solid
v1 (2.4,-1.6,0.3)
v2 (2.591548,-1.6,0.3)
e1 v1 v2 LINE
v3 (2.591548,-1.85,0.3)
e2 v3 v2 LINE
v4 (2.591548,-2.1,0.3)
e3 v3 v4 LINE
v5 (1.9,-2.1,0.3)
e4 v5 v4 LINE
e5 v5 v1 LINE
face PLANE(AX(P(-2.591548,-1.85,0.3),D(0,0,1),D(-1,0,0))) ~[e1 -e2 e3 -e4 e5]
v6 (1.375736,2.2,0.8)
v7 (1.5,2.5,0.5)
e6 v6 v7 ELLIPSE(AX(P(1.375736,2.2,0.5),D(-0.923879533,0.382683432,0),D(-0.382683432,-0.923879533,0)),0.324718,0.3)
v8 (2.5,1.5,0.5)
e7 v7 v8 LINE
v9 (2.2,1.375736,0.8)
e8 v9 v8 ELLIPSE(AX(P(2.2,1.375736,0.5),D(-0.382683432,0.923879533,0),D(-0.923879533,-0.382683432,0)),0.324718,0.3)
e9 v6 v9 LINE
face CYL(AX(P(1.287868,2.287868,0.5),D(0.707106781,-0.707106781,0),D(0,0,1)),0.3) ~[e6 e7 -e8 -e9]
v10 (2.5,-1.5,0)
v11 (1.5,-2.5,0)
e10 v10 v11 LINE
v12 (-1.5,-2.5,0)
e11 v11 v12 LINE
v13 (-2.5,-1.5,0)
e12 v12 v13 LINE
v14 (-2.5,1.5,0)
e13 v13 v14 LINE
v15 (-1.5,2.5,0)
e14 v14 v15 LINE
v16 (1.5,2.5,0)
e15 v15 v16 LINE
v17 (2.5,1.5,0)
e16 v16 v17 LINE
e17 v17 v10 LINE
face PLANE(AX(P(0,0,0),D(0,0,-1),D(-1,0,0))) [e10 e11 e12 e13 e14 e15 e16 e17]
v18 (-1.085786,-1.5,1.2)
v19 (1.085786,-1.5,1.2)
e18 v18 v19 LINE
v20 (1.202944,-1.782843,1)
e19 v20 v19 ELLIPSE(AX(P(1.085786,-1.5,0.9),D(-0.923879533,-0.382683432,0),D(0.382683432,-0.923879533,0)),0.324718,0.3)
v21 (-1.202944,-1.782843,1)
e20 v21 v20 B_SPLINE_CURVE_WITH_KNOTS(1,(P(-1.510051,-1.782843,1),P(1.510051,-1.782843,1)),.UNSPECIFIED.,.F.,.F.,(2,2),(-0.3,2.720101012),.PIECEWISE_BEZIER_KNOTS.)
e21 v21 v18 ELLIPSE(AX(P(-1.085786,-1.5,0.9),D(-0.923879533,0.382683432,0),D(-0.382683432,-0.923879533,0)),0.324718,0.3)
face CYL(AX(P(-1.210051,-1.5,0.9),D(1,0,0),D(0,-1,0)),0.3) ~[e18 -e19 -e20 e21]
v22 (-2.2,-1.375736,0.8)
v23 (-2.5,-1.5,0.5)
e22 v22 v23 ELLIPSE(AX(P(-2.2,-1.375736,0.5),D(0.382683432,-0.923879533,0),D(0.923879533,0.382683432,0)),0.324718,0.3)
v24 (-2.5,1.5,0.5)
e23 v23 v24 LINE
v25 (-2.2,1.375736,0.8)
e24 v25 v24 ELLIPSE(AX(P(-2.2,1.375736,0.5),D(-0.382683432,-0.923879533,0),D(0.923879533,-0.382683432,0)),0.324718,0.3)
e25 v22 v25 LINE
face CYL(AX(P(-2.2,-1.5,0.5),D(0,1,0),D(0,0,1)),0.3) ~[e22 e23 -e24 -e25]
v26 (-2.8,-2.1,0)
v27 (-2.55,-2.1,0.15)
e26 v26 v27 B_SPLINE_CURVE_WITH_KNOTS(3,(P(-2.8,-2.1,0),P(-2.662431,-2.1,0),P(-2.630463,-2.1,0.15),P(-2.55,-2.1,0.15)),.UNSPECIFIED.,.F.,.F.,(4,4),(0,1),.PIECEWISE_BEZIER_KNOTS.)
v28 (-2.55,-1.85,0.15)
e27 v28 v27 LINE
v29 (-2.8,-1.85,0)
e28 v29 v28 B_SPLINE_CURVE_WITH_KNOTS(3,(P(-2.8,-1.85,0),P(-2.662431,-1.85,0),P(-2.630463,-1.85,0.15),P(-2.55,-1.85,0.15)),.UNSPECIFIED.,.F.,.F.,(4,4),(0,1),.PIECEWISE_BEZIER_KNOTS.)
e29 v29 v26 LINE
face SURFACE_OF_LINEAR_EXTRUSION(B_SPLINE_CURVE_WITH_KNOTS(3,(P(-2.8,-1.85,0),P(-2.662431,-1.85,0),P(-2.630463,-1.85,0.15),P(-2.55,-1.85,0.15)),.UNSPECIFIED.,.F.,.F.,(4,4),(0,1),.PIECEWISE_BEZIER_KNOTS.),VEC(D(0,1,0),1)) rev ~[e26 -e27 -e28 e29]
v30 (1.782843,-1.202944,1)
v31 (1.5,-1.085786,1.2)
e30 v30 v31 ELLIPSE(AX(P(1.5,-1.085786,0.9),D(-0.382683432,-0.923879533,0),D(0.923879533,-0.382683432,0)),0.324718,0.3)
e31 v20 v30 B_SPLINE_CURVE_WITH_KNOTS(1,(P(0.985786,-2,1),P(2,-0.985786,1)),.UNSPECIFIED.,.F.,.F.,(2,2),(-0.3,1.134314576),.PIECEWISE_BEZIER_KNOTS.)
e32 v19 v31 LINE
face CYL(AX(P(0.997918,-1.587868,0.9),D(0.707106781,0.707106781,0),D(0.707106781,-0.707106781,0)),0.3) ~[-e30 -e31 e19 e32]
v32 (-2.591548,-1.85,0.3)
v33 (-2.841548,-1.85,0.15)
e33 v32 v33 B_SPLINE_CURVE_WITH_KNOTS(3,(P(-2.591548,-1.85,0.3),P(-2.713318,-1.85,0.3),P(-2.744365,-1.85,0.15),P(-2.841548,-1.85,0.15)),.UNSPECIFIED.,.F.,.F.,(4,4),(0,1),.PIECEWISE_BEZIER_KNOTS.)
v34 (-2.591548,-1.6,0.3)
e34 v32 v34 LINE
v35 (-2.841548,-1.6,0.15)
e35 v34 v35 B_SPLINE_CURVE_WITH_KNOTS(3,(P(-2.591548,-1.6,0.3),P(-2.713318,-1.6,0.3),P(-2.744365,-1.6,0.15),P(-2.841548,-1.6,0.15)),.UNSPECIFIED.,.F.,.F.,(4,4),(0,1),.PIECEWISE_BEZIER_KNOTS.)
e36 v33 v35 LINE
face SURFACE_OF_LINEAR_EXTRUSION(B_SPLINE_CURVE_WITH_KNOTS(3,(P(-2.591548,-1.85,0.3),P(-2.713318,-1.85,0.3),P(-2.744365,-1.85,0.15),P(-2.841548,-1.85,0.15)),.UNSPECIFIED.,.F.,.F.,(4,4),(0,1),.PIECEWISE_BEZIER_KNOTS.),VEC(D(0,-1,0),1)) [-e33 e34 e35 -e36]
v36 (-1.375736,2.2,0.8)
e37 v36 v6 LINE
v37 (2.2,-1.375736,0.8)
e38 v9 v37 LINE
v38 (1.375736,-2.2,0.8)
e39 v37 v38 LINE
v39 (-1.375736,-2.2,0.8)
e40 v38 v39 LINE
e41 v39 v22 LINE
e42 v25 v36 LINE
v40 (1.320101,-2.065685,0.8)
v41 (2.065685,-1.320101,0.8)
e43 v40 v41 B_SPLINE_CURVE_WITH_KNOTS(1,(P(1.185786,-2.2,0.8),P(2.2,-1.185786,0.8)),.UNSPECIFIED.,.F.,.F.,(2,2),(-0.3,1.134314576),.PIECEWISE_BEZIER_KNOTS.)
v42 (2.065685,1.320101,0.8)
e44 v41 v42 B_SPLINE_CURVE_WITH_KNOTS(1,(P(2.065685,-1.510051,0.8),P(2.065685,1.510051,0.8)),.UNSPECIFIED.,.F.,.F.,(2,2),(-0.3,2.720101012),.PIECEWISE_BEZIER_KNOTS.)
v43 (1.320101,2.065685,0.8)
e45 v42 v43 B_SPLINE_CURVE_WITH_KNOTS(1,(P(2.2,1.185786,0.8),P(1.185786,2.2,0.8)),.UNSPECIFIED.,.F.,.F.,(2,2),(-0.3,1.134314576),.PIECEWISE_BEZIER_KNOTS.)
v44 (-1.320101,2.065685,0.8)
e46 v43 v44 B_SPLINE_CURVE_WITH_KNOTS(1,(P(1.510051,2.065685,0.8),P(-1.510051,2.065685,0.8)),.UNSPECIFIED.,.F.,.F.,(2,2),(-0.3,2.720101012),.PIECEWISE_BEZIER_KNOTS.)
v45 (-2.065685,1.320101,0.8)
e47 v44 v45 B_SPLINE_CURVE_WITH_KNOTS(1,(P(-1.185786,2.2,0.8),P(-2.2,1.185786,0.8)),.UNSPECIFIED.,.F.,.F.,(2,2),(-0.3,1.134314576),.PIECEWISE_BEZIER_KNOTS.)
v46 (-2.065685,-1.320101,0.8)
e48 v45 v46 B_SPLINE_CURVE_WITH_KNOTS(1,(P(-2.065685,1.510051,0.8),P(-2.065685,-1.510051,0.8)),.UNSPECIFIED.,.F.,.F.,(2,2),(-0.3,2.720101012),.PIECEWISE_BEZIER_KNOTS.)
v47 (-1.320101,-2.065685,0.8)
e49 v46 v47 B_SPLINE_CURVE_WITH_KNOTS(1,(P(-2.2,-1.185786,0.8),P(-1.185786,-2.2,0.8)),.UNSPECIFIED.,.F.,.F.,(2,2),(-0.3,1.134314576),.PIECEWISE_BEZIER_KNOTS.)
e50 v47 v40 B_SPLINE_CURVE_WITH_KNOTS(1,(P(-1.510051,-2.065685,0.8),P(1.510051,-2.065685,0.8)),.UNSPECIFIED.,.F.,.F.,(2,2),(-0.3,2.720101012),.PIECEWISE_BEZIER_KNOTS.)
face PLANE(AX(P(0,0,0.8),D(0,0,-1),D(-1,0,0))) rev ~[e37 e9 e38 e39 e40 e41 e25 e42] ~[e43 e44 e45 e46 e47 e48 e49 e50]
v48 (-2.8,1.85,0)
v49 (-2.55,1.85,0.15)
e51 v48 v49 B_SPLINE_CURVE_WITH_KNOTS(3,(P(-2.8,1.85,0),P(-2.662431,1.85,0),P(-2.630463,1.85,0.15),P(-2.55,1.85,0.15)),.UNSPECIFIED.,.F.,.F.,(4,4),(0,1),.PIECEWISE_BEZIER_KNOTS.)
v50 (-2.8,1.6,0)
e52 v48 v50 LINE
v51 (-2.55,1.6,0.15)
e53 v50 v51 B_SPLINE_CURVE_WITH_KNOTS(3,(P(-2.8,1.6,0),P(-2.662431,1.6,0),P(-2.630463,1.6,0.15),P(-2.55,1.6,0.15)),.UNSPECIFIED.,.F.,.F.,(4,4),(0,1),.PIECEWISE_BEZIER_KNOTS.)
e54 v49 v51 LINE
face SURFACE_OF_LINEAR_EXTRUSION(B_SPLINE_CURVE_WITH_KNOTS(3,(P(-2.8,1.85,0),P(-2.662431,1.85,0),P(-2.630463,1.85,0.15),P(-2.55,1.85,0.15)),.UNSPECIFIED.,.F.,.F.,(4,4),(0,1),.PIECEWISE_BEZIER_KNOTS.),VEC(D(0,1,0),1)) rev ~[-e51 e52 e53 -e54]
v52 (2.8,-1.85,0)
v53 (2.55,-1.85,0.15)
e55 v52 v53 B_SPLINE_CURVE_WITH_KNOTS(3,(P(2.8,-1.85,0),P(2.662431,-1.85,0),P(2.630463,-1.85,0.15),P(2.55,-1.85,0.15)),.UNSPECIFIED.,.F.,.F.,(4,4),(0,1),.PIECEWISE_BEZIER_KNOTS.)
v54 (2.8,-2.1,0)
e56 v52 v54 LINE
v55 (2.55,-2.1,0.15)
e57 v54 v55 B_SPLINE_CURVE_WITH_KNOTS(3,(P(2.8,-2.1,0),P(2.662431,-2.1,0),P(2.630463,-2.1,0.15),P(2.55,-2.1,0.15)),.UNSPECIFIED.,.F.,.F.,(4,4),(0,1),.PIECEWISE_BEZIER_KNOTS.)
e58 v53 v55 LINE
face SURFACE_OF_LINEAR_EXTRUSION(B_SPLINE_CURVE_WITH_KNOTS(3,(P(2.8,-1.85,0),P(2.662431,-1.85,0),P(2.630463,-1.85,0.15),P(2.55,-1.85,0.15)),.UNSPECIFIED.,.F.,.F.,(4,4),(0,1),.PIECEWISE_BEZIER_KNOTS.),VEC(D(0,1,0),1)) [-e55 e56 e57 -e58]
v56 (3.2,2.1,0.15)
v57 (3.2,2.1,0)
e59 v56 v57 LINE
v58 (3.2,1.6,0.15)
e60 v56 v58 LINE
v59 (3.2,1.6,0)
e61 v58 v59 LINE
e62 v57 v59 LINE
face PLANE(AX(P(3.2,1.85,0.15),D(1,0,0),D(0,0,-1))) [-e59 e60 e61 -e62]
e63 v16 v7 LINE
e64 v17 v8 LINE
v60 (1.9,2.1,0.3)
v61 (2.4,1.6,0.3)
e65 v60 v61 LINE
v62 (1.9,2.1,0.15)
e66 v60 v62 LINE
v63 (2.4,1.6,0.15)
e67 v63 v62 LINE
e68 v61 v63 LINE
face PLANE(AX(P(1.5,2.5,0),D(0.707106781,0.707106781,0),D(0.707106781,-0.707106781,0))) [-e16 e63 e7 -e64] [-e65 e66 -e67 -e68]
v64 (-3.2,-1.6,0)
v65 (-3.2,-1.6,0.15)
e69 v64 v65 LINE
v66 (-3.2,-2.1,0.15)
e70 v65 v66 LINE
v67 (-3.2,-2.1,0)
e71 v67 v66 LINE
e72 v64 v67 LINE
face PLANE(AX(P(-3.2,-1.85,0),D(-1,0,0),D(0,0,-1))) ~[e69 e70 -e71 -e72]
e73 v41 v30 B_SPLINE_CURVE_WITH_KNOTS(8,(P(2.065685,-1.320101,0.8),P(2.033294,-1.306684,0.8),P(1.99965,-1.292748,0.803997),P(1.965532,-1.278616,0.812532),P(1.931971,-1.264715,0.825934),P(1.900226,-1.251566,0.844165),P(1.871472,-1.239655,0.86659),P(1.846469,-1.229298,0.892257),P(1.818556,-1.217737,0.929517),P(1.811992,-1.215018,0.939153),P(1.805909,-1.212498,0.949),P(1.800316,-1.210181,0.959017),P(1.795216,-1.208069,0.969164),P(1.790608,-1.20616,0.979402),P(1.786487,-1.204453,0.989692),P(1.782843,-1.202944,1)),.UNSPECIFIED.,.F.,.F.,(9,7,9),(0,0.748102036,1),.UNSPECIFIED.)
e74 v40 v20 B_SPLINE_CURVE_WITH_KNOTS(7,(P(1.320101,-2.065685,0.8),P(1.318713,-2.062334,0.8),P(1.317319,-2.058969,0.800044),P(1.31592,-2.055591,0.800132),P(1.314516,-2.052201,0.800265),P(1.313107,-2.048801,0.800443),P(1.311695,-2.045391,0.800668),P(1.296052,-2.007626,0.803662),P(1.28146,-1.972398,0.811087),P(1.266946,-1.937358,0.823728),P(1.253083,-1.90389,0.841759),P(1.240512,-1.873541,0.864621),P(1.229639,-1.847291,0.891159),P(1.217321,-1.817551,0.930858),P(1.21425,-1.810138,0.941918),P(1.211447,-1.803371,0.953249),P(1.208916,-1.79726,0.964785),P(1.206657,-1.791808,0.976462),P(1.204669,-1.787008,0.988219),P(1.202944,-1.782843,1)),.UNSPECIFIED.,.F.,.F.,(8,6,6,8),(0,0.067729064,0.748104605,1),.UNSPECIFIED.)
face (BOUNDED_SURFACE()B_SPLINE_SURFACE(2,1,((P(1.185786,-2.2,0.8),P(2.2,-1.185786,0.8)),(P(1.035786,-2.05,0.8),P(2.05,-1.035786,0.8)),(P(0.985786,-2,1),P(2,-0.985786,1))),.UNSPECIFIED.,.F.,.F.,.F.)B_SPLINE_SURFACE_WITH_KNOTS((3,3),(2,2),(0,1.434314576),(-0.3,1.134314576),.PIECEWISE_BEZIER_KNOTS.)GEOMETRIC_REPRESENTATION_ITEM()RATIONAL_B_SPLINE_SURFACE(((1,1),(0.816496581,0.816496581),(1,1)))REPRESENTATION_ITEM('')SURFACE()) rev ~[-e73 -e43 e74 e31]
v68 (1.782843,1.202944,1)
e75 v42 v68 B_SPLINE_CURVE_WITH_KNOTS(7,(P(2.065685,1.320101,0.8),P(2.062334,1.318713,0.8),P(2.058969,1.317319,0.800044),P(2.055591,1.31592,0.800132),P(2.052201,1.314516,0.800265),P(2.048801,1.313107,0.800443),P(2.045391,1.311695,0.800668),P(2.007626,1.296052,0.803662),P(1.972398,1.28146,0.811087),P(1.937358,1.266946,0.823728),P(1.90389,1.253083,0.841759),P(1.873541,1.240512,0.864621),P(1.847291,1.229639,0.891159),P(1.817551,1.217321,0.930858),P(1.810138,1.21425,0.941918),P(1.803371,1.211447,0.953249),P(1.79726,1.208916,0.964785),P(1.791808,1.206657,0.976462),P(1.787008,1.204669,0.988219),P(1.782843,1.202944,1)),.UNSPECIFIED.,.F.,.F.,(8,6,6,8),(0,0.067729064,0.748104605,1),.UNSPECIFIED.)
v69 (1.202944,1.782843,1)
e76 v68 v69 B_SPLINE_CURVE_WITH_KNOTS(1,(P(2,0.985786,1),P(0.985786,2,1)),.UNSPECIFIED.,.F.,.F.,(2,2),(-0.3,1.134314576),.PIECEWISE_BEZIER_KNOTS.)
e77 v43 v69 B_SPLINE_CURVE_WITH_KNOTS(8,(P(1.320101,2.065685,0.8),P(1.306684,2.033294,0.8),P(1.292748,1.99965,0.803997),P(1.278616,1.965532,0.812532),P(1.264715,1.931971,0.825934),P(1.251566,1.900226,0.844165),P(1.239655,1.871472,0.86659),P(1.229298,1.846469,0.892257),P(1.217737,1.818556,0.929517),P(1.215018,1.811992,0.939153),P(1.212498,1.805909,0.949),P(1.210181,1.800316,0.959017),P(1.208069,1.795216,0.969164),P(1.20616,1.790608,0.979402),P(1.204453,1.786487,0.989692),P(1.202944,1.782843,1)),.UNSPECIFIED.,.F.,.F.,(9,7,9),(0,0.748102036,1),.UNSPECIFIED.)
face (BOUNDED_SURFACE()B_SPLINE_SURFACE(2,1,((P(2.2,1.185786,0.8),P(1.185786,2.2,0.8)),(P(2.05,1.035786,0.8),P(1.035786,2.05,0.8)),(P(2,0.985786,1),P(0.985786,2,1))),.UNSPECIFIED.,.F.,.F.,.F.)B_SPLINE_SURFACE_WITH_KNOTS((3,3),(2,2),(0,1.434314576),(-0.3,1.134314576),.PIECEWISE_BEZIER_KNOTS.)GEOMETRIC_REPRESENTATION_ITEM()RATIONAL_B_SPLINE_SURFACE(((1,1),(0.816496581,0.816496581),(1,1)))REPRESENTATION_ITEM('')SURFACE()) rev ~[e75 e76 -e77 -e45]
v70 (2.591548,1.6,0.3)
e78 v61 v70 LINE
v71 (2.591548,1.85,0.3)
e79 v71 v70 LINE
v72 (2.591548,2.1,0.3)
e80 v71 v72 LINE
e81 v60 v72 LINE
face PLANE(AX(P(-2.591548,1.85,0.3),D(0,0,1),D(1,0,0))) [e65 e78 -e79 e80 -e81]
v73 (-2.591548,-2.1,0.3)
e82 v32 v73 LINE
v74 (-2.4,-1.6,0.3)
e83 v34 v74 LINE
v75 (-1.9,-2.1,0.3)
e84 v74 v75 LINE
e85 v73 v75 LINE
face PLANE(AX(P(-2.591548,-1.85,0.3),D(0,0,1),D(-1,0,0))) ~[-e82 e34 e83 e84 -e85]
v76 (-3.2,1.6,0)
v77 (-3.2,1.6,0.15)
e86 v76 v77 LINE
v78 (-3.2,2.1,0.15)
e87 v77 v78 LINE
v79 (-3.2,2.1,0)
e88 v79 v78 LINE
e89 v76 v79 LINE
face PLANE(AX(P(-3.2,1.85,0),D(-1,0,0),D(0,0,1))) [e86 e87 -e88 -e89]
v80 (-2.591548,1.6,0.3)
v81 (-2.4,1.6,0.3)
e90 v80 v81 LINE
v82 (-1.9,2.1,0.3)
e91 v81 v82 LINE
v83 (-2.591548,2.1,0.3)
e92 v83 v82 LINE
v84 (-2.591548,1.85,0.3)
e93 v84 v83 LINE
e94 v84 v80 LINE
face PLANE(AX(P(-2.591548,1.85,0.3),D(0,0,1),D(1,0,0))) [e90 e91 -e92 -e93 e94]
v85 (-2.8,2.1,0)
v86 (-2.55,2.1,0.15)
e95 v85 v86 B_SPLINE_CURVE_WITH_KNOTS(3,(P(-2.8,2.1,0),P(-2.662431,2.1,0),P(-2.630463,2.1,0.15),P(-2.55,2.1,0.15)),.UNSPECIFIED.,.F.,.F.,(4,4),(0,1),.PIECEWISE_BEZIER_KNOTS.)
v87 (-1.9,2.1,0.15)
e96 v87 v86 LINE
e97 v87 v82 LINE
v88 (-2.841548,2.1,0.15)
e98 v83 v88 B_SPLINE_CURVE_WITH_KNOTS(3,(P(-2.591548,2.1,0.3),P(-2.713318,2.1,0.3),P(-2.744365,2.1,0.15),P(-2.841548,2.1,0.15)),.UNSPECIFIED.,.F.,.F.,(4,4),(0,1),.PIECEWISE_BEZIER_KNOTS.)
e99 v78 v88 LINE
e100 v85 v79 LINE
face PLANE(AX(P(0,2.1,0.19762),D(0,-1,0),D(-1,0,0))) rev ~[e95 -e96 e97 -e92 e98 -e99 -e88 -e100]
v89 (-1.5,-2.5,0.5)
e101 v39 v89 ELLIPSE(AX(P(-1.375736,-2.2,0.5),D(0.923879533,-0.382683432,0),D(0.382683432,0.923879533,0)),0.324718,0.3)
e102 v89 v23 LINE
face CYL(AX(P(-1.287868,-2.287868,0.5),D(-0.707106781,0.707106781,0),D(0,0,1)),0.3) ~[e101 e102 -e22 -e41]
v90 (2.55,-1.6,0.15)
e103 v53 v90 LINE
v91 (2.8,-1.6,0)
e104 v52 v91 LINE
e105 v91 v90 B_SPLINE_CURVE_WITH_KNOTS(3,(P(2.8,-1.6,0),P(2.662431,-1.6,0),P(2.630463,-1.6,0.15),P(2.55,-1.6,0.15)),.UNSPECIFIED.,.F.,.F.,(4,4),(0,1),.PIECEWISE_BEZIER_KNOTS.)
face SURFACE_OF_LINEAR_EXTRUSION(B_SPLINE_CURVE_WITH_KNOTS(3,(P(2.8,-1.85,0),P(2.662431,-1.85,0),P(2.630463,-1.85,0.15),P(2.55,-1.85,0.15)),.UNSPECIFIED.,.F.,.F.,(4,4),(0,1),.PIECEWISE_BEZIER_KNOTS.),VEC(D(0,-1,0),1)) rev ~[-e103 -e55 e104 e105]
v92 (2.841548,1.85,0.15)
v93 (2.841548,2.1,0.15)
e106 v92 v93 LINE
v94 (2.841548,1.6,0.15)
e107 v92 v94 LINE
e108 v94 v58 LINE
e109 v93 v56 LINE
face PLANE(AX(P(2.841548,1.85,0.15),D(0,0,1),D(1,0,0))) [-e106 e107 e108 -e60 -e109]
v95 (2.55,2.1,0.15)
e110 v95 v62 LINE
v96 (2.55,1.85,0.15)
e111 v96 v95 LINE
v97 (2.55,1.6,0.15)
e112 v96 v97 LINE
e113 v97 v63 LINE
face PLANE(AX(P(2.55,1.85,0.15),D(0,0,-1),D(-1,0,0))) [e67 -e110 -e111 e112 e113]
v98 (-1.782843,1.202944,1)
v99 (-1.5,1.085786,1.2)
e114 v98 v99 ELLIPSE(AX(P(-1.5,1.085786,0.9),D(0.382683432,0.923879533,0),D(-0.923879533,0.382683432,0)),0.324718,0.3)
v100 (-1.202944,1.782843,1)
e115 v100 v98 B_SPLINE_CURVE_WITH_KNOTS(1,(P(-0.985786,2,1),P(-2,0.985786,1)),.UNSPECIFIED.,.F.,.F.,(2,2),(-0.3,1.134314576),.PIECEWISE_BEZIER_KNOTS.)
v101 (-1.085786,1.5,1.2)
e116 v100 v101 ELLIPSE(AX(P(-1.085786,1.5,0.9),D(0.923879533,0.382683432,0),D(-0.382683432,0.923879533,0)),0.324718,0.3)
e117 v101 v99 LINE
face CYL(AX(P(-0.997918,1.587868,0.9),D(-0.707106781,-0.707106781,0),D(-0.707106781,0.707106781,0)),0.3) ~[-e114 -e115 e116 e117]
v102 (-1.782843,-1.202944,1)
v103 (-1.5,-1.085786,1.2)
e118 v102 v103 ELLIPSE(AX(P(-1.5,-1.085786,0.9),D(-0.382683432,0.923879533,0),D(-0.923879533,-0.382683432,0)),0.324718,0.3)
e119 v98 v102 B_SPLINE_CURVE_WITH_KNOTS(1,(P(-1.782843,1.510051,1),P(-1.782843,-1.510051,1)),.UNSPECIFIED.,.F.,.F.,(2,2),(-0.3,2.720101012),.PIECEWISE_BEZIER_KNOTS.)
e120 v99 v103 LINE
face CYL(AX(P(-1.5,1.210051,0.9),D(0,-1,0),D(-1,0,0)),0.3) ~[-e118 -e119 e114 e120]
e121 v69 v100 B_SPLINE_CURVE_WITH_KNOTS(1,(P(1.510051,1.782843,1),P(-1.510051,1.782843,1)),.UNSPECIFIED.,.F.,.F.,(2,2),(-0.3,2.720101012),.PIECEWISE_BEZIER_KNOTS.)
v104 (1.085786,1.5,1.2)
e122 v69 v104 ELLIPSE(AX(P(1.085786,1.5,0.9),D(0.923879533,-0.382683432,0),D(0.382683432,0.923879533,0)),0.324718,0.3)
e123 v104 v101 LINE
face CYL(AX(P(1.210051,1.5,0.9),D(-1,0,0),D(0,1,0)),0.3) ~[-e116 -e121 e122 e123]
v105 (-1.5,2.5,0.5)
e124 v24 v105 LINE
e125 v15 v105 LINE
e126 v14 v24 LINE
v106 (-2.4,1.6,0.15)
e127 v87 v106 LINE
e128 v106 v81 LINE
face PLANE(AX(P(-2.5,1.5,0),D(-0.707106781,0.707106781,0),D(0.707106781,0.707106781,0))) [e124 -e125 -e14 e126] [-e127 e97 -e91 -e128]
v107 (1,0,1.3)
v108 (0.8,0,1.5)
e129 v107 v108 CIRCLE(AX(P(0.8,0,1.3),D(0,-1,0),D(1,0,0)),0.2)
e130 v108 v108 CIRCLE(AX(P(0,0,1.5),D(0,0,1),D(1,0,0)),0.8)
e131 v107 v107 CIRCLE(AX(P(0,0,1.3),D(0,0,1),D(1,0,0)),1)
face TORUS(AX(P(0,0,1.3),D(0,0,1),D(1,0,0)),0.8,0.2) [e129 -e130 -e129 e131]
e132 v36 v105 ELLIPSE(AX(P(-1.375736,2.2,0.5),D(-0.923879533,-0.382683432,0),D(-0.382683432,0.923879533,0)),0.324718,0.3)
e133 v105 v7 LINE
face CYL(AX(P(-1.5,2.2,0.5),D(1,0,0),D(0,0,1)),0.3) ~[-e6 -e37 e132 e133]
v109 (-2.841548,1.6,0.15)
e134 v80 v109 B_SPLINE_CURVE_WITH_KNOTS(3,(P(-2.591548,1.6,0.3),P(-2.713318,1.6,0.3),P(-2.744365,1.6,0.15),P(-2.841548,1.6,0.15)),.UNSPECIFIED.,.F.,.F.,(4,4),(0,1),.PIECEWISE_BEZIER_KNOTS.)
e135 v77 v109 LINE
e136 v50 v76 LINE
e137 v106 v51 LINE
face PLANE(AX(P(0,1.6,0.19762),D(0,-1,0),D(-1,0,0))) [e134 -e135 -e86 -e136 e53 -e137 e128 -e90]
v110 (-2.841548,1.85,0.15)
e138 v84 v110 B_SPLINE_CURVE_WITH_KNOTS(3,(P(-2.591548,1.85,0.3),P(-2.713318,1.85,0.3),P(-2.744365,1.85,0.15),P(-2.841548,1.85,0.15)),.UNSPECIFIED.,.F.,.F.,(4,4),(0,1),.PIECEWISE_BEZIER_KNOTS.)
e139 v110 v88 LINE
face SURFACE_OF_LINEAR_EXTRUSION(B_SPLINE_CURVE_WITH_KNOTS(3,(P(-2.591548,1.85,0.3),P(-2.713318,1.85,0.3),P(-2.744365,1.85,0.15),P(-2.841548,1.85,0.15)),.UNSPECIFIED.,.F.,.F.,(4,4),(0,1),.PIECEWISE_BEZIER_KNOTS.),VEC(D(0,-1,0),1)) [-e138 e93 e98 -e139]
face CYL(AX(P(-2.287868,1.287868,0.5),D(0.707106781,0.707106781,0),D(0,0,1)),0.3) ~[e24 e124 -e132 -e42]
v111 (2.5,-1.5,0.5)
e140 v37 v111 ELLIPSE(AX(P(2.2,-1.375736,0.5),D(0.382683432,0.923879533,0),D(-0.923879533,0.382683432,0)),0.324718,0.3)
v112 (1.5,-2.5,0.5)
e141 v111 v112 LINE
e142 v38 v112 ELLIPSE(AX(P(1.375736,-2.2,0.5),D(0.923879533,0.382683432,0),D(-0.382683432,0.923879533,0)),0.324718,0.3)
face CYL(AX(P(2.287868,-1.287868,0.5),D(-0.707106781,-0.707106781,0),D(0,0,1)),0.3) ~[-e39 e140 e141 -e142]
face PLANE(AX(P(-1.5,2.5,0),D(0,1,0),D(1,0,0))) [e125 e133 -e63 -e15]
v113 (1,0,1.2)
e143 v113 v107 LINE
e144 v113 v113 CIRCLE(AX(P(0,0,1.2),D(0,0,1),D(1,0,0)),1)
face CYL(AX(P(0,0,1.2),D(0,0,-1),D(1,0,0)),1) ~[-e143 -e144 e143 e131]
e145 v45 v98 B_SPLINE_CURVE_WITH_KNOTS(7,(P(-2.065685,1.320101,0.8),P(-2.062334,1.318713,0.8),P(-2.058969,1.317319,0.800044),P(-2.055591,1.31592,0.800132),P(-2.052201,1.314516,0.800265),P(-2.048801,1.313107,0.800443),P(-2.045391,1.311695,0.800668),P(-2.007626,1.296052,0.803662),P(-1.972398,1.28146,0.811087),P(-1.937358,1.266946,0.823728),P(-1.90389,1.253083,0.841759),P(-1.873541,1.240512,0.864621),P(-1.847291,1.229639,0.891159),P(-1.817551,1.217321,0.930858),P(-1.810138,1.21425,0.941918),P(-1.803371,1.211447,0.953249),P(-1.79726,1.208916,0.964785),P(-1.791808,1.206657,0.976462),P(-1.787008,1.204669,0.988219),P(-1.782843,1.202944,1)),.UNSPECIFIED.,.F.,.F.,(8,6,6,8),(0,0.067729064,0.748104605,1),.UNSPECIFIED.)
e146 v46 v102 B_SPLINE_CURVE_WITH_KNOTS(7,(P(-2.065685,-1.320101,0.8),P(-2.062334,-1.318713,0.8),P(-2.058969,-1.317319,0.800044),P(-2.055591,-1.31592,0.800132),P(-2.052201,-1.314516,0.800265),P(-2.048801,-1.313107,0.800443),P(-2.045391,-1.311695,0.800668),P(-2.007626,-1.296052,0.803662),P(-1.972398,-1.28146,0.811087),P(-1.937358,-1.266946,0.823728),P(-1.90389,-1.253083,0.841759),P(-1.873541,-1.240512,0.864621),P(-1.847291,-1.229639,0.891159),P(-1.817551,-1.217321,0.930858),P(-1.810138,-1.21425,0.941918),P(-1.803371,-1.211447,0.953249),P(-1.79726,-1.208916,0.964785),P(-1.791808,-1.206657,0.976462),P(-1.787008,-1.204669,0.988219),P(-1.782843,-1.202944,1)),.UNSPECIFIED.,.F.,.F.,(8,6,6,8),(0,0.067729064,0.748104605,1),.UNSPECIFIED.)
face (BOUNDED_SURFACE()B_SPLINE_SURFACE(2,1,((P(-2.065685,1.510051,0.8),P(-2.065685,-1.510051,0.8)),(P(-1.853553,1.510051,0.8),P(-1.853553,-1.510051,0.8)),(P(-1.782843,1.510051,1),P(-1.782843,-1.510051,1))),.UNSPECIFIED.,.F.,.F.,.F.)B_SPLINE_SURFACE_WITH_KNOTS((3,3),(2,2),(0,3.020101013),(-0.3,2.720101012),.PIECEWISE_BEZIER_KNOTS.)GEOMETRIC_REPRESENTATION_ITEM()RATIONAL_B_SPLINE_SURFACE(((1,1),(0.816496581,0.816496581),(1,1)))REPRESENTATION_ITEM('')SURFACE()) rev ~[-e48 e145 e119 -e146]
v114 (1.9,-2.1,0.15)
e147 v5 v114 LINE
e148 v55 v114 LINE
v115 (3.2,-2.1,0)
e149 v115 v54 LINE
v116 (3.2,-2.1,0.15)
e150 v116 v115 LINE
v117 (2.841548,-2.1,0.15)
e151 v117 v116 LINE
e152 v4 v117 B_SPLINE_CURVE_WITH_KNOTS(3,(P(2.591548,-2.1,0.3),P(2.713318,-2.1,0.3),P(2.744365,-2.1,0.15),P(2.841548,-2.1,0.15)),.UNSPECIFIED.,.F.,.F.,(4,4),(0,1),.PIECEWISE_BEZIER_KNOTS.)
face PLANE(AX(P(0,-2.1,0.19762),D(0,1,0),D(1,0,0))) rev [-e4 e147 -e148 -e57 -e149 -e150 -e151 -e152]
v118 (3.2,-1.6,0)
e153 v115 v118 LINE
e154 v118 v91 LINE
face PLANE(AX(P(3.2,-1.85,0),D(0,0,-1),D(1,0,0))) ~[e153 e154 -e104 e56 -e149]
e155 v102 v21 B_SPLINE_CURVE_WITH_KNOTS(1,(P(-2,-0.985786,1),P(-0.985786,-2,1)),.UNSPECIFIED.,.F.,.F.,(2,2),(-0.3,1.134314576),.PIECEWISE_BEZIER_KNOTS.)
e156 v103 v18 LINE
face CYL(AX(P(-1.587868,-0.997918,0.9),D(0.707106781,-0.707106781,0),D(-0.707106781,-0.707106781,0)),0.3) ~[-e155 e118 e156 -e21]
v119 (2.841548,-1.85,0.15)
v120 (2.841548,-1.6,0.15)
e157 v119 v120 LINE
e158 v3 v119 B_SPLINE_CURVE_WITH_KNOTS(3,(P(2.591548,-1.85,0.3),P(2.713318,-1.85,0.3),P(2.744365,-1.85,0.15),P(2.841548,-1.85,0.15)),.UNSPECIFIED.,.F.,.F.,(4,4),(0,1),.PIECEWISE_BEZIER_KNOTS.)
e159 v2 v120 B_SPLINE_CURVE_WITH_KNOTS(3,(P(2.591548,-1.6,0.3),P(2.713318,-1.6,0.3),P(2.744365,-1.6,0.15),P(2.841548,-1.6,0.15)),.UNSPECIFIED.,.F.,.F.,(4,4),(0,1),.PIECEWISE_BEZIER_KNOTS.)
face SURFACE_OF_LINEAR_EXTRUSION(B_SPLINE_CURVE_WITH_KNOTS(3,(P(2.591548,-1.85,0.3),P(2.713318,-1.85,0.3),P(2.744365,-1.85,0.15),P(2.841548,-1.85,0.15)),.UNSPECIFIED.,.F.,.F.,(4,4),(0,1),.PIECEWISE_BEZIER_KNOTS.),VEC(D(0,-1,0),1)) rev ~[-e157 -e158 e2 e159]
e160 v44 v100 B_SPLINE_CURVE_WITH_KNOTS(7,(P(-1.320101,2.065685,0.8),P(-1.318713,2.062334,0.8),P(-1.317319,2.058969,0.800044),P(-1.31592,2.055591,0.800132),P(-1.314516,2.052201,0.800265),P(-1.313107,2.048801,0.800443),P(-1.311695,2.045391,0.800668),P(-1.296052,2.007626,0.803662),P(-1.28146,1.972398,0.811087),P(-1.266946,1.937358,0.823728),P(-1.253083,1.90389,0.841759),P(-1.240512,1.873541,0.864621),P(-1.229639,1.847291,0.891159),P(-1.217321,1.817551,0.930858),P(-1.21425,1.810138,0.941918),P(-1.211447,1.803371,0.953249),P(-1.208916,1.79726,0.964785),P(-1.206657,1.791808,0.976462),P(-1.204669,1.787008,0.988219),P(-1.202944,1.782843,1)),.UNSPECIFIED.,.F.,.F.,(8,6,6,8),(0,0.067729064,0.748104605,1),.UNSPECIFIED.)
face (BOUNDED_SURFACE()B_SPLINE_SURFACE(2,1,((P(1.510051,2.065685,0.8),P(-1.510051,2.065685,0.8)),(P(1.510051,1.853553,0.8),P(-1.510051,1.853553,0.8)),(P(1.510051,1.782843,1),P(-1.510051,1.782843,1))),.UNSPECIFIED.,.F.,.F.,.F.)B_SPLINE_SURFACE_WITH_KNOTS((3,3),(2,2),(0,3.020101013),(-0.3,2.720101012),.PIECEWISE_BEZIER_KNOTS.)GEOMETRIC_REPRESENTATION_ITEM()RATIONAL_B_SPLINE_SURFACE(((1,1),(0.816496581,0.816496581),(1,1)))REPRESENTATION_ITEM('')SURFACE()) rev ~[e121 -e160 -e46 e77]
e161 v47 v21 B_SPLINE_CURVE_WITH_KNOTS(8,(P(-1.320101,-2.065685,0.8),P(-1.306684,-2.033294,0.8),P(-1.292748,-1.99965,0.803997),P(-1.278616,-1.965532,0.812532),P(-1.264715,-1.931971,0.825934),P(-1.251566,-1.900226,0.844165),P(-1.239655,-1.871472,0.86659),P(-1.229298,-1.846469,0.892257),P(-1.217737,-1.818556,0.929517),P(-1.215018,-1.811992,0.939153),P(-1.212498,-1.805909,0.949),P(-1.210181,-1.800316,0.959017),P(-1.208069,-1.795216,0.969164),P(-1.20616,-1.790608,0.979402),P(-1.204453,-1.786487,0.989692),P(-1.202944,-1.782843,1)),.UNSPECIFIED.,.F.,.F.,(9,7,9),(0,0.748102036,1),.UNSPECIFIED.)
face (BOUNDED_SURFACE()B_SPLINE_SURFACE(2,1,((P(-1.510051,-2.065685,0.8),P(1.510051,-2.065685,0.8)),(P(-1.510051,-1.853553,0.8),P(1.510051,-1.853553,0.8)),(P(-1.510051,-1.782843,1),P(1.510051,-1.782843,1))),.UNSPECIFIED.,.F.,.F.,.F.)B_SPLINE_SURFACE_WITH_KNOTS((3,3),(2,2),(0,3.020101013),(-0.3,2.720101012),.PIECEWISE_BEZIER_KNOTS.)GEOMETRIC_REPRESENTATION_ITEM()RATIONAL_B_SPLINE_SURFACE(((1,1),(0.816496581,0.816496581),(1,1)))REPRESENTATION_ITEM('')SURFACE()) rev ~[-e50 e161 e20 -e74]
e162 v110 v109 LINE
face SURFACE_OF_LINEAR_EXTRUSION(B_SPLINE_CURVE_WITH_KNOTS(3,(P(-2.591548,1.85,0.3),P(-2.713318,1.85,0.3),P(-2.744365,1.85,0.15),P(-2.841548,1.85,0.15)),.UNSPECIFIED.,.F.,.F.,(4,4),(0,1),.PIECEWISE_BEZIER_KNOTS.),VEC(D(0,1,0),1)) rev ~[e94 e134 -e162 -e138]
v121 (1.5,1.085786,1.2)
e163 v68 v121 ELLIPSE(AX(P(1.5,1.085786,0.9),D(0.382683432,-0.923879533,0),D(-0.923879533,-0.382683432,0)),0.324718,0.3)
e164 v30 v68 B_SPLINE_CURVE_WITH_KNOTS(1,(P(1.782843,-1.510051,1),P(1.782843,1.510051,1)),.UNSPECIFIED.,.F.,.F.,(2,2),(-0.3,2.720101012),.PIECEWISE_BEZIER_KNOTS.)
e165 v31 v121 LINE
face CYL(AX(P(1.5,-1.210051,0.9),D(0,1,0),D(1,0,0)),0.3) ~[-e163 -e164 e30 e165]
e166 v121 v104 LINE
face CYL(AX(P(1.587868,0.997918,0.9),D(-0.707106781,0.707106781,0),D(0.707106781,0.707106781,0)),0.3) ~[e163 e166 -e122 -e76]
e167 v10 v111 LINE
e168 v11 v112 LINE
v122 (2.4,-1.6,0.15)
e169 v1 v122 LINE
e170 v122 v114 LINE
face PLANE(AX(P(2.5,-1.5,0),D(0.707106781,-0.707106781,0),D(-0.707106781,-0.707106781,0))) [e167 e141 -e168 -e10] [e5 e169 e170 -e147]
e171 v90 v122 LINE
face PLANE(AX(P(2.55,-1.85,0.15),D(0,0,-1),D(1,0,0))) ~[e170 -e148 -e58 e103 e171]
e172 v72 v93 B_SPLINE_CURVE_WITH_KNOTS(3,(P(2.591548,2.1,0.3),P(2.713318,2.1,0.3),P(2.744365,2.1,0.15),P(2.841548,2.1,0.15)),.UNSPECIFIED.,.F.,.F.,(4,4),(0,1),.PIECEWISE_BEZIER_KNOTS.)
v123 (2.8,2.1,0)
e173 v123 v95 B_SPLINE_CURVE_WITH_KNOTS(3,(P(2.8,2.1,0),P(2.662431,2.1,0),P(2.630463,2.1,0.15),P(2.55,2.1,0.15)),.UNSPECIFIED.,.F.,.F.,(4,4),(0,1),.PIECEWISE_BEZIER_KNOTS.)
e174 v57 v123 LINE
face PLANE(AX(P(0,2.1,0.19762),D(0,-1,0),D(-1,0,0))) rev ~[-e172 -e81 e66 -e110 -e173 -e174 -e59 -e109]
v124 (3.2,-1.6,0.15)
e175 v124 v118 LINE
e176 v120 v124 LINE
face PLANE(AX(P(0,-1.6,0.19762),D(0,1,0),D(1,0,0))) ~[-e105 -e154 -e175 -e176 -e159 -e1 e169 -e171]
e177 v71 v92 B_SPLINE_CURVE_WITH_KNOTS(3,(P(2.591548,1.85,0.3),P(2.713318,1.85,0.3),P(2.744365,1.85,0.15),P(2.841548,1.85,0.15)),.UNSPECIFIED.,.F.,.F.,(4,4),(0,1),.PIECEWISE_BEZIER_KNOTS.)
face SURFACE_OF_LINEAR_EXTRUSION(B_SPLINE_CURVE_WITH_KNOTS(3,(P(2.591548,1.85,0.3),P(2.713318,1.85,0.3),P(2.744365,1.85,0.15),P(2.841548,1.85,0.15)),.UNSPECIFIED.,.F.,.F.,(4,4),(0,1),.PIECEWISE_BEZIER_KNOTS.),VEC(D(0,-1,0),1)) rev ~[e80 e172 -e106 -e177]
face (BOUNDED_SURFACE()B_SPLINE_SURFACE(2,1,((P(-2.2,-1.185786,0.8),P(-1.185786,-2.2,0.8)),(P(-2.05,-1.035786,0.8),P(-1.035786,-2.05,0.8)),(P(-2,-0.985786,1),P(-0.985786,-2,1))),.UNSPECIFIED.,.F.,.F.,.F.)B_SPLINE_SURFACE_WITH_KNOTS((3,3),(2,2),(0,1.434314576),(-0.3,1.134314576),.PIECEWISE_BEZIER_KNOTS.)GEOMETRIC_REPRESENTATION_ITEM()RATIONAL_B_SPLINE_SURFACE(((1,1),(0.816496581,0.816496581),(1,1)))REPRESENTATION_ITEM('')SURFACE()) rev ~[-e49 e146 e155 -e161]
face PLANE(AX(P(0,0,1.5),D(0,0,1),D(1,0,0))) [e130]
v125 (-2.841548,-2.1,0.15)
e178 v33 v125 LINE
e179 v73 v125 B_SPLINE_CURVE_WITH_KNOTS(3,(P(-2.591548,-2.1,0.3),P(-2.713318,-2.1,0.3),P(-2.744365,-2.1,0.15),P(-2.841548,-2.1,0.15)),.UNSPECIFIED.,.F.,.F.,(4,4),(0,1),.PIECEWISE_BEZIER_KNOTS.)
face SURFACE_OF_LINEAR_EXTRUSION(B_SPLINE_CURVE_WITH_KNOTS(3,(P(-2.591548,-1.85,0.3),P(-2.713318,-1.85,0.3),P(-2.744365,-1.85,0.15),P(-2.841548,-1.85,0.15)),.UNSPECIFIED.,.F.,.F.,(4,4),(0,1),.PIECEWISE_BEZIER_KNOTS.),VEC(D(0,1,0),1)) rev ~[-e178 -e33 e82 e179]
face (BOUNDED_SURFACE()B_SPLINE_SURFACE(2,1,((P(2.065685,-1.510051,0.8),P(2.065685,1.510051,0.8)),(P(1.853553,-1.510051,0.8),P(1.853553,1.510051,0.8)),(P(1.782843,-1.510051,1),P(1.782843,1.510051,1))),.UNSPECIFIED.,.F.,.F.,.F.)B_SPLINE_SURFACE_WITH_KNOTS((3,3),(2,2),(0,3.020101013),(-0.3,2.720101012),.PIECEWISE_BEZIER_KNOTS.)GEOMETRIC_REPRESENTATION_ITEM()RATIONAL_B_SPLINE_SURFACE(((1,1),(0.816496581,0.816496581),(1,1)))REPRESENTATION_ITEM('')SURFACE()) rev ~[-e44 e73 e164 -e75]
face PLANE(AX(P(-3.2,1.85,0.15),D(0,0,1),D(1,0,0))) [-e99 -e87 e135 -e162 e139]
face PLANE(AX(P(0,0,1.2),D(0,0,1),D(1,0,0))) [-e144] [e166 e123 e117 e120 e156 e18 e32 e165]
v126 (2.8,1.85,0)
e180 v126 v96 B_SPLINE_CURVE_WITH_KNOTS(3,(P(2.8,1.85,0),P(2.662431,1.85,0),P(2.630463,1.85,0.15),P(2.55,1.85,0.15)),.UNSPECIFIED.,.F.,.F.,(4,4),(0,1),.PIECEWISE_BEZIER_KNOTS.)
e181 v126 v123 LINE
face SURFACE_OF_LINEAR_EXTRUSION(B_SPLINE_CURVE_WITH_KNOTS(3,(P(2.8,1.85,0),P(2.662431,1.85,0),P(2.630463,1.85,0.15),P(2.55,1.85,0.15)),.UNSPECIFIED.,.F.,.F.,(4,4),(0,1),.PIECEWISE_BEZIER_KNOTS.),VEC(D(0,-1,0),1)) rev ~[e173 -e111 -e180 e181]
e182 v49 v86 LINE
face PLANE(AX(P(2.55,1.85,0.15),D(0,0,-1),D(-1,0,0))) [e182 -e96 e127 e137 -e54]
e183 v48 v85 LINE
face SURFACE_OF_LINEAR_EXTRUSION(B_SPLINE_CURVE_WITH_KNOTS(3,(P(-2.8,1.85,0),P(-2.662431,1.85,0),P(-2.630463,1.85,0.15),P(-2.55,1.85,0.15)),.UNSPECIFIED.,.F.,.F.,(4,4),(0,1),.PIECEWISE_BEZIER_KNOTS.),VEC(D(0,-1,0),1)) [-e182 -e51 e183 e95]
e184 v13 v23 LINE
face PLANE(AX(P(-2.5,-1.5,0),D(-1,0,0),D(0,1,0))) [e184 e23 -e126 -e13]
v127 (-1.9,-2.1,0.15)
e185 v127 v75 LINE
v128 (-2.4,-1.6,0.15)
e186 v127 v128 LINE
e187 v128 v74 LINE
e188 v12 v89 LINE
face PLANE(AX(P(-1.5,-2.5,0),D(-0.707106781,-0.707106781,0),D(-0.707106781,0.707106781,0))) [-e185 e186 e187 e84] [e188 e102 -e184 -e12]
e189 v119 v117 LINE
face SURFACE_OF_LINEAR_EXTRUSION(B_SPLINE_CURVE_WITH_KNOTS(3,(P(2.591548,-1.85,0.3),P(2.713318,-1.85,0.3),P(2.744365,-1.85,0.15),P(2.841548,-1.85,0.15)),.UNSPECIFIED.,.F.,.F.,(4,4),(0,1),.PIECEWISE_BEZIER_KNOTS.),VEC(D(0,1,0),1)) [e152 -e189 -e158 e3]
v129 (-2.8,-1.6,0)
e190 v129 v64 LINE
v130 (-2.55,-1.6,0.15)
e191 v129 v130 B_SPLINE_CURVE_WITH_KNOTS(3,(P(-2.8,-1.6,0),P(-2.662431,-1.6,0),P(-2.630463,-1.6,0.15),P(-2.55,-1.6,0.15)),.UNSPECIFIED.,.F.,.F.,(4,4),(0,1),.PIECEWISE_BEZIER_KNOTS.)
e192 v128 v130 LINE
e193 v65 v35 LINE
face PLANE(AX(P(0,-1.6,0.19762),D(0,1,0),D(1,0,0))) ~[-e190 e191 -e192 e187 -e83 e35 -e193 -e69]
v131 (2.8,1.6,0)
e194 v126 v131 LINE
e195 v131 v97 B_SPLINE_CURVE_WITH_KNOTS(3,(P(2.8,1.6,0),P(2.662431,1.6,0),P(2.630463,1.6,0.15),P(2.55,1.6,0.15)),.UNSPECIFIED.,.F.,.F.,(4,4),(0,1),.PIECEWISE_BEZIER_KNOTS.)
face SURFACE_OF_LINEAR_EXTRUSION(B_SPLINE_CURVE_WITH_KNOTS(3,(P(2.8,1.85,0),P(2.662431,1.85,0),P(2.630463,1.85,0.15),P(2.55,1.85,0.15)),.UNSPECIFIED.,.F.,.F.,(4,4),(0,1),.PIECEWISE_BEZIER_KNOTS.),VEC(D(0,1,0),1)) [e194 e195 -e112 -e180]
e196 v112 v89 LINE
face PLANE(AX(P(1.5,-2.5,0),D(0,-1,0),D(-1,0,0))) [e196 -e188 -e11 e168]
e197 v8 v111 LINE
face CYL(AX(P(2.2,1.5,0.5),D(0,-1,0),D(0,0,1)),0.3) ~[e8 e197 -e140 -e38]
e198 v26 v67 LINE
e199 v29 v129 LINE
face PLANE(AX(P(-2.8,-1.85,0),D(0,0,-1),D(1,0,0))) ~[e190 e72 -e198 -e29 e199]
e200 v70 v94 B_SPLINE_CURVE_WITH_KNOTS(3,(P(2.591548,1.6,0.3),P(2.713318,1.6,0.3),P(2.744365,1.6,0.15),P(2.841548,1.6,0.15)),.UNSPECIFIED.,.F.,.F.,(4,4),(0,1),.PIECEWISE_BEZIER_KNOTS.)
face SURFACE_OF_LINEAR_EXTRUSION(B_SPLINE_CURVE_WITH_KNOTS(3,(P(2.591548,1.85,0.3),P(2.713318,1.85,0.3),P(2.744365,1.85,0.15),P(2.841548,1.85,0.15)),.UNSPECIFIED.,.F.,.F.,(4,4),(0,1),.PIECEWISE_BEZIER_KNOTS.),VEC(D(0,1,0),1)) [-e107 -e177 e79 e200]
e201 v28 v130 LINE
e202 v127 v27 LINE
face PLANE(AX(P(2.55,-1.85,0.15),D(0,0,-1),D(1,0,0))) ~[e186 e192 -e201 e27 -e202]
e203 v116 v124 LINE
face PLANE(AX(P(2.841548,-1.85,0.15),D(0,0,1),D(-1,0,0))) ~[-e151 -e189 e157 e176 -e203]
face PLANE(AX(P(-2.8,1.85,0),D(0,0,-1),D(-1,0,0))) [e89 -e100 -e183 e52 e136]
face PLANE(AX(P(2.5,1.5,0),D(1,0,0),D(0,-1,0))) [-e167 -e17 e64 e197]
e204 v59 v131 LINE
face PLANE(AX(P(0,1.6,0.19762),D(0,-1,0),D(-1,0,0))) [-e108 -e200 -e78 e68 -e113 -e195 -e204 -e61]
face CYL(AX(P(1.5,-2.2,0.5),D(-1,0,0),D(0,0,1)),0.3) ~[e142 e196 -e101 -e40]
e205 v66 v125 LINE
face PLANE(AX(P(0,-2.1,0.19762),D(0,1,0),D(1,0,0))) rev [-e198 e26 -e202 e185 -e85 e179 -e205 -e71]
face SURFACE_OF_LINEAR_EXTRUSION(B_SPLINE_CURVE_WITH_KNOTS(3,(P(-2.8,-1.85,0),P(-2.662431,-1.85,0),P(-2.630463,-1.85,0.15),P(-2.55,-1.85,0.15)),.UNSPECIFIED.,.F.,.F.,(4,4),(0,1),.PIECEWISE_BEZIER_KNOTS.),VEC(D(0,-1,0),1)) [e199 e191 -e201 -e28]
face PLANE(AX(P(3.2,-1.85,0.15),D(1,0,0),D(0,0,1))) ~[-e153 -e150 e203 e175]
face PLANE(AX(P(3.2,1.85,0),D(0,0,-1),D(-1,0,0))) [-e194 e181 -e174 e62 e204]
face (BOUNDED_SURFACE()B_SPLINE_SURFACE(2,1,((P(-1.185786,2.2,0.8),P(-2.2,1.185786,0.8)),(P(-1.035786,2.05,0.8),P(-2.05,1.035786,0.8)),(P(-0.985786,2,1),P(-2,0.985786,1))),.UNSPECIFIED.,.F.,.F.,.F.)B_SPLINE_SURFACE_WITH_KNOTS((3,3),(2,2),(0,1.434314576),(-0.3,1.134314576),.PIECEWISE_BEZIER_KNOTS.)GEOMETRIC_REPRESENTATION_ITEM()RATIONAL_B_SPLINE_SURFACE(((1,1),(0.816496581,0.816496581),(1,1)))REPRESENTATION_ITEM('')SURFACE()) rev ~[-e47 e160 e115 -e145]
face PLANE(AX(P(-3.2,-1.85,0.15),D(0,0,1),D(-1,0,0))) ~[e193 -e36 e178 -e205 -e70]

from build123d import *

# Parameters (mm, degrees)
BOSS_EXTRUDE1_DEPTH = 0.8
BOSS_EXTRUDE2_DEPTH = 0.4
SKETCH3_R           = 1
BOSS_EXTRUDE3_DEPTH = 0.3
FILLET1_R           = 0.3
FILLET2_R           = 0.3
FILLET3_R           = 0.3
FILLET4_R           = 0.2
BOSS_EXTRUDE4_DEPTH = 0.25


with BuildPart() as part:
    # Sketch1 → Boss-Extrude1 (new body)
    with BuildSketch(Plane.XY):
        Polygon((-1.5, 2.5), (1.5, 2.5), (2.5, 1.5), (2.5, -1.5), (1.5, -2.5), (-1.5, -2.5), (-2.5, -1.5), (-2.5, 1.5), align=None)
    extrude(amount=BOSS_EXTRUDE1_DEPTH)

    # Sketch2 → Boss-Extrude2 (add)
    with BuildSketch(Plane.XY.offset(0.8)):
        Polygon((-1.210050506, 1.8), (-1.8, 1.210050506), (-1.8, -1.210050506), (-1.210050506, -1.8), (1.210050506, -1.8), (1.8, -1.210050506), (1.8, 1.210050506), (1.210050506, 1.8), align=None)
    extrude(amount=BOSS_EXTRUDE2_DEPTH)

    # Sketch3 → Boss-Extrude3 (add)
    with BuildSketch(Plane.XY.offset(1.2)):
        Circle(SKETCH3_R)
    extrude(amount=BOSS_EXTRUDE3_DEPTH)

    # Fillet1
    fillet1_edges = [part.edges().sort_by_distance(p)[0] for p in [
        (1.505025253, 1.505025253, 1.2),
        (0, 1.8, 1.2),
        (-1.505025253, 1.505025253, 1.2),
        (-1.8, 0, 1.2),
        (-1.505025253, -1.505025253, 1.2),
        (0, -1.8, 1.2),
        (1.505025253, -1.505025253, 1.2),
        (1.8, 0, 1.2),
    ]]
    fillet(fillet1_edges, radius=FILLET1_R)

    # Fillet2
    fillet2_edges = [part.edges().sort_by_distance(p)[0] for p in [
        (-2, 2, 0.8),
        (-2.5, 0, 0.8),
        (-2, -2, 0.8),
        (0, -2.5, 0.8),
        (2, -2, 0.8),
        (2.5, 0, 0.8),
        (2, 2, 0.8),
        (0, 2.5, 0.8),
    ]]
    fillet(fillet2_edges, radius=FILLET2_R)

    # Fillet3
    fillet3_edges = [part.edges().sort_by_distance(p)[0] for p in [
        (0, -1.8, 0.8),
        (1.505025253, -1.505025253, 0.8),
        (1.8, 0, 0.8),
        (1.505025253, 1.505025253, 0.8),
        (0, 1.8, 0.8),
        (-1.505025253, 1.505025253, 0.8),
        (-1.8, 0, 0.8),
        (-1.505025253, -1.505025253, 0.8),
    ]]
    fillet(fillet3_edges, radius=FILLET3_R)

    # Fillet4
    fillet4_edges = [part.edges().sort_by_distance(p)[0] for p in [
        (-1, 0, 1.5),
    ]]
    fillet(fillet4_edges, radius=FILLET4_R)

    # Sketch4 → Boss-Extrude4 (add, symmetric)
    with BuildSketch(Plane(origin=(0, 1.85, 0), x_dir=(1, 0, 0), z_dir=(0, 1, 0))):
        with BuildLine():
            Line((0, -0.15), (-2.55, -0.15))
            add(Edge.make_bspline(
                [(-2.8, 0), (-2.662431202, 0), (-2.630462892, -0.15), (-2.55, -0.15)],
                knots=[0, 0, 0, 0, 1, 1, 1, 1], degree=3))
            Line((-2.8, 0), (-3.2, 0))
            Line((-3.2, 0), (-3.2, -0.15))
            Line((-3.2, -0.15), (-2.841547595, -0.15))
            add(Edge.make_bspline(
                [(-2.591547595, -0.3), (-2.713318055, -0.3), (-2.744365063, -0.15), (-2.841547595, -0.15)],
                knots=[0, 0, 0, 0, 1, 1, 1, 1], degree=3))
            Line((-2.591547595, -0.3), (0, -0.3))
            Line((0, -0.3), (2.591547595, -0.3))
            add(Edge.make_bspline(
                [(2.591547595, -0.3), (2.713318055, -0.3), (2.744365063, -0.15), (2.841547595, -0.15)],
                knots=[0, 0, 0, 0, 1, 1, 1, 1], degree=3))
            Line((2.841547595, -0.15), (3.2, -0.15))
            Line((3.2, -0.15), (3.2, 0))
            Line((3.2, 0), (2.8, 0))
            add(Edge.make_bspline(
                [(2.8, 0), (2.662431202, 0), (2.630462892, -0.15), (2.55, -0.15)],
                knots=[0, 0, 0, 0, 1, 1, 1, 1], degree=3))
            Line((2.55, -0.15), (0, -0.15))
        make_face()
    boss_extrude4 = extrude(amount=BOSS_EXTRUDE4_DEPTH, both=True)

    # Mirror1: Boss-Extrude4 across plane
    add(boss_extrude4.mirror(Plane.ZX))


solid = part.part
